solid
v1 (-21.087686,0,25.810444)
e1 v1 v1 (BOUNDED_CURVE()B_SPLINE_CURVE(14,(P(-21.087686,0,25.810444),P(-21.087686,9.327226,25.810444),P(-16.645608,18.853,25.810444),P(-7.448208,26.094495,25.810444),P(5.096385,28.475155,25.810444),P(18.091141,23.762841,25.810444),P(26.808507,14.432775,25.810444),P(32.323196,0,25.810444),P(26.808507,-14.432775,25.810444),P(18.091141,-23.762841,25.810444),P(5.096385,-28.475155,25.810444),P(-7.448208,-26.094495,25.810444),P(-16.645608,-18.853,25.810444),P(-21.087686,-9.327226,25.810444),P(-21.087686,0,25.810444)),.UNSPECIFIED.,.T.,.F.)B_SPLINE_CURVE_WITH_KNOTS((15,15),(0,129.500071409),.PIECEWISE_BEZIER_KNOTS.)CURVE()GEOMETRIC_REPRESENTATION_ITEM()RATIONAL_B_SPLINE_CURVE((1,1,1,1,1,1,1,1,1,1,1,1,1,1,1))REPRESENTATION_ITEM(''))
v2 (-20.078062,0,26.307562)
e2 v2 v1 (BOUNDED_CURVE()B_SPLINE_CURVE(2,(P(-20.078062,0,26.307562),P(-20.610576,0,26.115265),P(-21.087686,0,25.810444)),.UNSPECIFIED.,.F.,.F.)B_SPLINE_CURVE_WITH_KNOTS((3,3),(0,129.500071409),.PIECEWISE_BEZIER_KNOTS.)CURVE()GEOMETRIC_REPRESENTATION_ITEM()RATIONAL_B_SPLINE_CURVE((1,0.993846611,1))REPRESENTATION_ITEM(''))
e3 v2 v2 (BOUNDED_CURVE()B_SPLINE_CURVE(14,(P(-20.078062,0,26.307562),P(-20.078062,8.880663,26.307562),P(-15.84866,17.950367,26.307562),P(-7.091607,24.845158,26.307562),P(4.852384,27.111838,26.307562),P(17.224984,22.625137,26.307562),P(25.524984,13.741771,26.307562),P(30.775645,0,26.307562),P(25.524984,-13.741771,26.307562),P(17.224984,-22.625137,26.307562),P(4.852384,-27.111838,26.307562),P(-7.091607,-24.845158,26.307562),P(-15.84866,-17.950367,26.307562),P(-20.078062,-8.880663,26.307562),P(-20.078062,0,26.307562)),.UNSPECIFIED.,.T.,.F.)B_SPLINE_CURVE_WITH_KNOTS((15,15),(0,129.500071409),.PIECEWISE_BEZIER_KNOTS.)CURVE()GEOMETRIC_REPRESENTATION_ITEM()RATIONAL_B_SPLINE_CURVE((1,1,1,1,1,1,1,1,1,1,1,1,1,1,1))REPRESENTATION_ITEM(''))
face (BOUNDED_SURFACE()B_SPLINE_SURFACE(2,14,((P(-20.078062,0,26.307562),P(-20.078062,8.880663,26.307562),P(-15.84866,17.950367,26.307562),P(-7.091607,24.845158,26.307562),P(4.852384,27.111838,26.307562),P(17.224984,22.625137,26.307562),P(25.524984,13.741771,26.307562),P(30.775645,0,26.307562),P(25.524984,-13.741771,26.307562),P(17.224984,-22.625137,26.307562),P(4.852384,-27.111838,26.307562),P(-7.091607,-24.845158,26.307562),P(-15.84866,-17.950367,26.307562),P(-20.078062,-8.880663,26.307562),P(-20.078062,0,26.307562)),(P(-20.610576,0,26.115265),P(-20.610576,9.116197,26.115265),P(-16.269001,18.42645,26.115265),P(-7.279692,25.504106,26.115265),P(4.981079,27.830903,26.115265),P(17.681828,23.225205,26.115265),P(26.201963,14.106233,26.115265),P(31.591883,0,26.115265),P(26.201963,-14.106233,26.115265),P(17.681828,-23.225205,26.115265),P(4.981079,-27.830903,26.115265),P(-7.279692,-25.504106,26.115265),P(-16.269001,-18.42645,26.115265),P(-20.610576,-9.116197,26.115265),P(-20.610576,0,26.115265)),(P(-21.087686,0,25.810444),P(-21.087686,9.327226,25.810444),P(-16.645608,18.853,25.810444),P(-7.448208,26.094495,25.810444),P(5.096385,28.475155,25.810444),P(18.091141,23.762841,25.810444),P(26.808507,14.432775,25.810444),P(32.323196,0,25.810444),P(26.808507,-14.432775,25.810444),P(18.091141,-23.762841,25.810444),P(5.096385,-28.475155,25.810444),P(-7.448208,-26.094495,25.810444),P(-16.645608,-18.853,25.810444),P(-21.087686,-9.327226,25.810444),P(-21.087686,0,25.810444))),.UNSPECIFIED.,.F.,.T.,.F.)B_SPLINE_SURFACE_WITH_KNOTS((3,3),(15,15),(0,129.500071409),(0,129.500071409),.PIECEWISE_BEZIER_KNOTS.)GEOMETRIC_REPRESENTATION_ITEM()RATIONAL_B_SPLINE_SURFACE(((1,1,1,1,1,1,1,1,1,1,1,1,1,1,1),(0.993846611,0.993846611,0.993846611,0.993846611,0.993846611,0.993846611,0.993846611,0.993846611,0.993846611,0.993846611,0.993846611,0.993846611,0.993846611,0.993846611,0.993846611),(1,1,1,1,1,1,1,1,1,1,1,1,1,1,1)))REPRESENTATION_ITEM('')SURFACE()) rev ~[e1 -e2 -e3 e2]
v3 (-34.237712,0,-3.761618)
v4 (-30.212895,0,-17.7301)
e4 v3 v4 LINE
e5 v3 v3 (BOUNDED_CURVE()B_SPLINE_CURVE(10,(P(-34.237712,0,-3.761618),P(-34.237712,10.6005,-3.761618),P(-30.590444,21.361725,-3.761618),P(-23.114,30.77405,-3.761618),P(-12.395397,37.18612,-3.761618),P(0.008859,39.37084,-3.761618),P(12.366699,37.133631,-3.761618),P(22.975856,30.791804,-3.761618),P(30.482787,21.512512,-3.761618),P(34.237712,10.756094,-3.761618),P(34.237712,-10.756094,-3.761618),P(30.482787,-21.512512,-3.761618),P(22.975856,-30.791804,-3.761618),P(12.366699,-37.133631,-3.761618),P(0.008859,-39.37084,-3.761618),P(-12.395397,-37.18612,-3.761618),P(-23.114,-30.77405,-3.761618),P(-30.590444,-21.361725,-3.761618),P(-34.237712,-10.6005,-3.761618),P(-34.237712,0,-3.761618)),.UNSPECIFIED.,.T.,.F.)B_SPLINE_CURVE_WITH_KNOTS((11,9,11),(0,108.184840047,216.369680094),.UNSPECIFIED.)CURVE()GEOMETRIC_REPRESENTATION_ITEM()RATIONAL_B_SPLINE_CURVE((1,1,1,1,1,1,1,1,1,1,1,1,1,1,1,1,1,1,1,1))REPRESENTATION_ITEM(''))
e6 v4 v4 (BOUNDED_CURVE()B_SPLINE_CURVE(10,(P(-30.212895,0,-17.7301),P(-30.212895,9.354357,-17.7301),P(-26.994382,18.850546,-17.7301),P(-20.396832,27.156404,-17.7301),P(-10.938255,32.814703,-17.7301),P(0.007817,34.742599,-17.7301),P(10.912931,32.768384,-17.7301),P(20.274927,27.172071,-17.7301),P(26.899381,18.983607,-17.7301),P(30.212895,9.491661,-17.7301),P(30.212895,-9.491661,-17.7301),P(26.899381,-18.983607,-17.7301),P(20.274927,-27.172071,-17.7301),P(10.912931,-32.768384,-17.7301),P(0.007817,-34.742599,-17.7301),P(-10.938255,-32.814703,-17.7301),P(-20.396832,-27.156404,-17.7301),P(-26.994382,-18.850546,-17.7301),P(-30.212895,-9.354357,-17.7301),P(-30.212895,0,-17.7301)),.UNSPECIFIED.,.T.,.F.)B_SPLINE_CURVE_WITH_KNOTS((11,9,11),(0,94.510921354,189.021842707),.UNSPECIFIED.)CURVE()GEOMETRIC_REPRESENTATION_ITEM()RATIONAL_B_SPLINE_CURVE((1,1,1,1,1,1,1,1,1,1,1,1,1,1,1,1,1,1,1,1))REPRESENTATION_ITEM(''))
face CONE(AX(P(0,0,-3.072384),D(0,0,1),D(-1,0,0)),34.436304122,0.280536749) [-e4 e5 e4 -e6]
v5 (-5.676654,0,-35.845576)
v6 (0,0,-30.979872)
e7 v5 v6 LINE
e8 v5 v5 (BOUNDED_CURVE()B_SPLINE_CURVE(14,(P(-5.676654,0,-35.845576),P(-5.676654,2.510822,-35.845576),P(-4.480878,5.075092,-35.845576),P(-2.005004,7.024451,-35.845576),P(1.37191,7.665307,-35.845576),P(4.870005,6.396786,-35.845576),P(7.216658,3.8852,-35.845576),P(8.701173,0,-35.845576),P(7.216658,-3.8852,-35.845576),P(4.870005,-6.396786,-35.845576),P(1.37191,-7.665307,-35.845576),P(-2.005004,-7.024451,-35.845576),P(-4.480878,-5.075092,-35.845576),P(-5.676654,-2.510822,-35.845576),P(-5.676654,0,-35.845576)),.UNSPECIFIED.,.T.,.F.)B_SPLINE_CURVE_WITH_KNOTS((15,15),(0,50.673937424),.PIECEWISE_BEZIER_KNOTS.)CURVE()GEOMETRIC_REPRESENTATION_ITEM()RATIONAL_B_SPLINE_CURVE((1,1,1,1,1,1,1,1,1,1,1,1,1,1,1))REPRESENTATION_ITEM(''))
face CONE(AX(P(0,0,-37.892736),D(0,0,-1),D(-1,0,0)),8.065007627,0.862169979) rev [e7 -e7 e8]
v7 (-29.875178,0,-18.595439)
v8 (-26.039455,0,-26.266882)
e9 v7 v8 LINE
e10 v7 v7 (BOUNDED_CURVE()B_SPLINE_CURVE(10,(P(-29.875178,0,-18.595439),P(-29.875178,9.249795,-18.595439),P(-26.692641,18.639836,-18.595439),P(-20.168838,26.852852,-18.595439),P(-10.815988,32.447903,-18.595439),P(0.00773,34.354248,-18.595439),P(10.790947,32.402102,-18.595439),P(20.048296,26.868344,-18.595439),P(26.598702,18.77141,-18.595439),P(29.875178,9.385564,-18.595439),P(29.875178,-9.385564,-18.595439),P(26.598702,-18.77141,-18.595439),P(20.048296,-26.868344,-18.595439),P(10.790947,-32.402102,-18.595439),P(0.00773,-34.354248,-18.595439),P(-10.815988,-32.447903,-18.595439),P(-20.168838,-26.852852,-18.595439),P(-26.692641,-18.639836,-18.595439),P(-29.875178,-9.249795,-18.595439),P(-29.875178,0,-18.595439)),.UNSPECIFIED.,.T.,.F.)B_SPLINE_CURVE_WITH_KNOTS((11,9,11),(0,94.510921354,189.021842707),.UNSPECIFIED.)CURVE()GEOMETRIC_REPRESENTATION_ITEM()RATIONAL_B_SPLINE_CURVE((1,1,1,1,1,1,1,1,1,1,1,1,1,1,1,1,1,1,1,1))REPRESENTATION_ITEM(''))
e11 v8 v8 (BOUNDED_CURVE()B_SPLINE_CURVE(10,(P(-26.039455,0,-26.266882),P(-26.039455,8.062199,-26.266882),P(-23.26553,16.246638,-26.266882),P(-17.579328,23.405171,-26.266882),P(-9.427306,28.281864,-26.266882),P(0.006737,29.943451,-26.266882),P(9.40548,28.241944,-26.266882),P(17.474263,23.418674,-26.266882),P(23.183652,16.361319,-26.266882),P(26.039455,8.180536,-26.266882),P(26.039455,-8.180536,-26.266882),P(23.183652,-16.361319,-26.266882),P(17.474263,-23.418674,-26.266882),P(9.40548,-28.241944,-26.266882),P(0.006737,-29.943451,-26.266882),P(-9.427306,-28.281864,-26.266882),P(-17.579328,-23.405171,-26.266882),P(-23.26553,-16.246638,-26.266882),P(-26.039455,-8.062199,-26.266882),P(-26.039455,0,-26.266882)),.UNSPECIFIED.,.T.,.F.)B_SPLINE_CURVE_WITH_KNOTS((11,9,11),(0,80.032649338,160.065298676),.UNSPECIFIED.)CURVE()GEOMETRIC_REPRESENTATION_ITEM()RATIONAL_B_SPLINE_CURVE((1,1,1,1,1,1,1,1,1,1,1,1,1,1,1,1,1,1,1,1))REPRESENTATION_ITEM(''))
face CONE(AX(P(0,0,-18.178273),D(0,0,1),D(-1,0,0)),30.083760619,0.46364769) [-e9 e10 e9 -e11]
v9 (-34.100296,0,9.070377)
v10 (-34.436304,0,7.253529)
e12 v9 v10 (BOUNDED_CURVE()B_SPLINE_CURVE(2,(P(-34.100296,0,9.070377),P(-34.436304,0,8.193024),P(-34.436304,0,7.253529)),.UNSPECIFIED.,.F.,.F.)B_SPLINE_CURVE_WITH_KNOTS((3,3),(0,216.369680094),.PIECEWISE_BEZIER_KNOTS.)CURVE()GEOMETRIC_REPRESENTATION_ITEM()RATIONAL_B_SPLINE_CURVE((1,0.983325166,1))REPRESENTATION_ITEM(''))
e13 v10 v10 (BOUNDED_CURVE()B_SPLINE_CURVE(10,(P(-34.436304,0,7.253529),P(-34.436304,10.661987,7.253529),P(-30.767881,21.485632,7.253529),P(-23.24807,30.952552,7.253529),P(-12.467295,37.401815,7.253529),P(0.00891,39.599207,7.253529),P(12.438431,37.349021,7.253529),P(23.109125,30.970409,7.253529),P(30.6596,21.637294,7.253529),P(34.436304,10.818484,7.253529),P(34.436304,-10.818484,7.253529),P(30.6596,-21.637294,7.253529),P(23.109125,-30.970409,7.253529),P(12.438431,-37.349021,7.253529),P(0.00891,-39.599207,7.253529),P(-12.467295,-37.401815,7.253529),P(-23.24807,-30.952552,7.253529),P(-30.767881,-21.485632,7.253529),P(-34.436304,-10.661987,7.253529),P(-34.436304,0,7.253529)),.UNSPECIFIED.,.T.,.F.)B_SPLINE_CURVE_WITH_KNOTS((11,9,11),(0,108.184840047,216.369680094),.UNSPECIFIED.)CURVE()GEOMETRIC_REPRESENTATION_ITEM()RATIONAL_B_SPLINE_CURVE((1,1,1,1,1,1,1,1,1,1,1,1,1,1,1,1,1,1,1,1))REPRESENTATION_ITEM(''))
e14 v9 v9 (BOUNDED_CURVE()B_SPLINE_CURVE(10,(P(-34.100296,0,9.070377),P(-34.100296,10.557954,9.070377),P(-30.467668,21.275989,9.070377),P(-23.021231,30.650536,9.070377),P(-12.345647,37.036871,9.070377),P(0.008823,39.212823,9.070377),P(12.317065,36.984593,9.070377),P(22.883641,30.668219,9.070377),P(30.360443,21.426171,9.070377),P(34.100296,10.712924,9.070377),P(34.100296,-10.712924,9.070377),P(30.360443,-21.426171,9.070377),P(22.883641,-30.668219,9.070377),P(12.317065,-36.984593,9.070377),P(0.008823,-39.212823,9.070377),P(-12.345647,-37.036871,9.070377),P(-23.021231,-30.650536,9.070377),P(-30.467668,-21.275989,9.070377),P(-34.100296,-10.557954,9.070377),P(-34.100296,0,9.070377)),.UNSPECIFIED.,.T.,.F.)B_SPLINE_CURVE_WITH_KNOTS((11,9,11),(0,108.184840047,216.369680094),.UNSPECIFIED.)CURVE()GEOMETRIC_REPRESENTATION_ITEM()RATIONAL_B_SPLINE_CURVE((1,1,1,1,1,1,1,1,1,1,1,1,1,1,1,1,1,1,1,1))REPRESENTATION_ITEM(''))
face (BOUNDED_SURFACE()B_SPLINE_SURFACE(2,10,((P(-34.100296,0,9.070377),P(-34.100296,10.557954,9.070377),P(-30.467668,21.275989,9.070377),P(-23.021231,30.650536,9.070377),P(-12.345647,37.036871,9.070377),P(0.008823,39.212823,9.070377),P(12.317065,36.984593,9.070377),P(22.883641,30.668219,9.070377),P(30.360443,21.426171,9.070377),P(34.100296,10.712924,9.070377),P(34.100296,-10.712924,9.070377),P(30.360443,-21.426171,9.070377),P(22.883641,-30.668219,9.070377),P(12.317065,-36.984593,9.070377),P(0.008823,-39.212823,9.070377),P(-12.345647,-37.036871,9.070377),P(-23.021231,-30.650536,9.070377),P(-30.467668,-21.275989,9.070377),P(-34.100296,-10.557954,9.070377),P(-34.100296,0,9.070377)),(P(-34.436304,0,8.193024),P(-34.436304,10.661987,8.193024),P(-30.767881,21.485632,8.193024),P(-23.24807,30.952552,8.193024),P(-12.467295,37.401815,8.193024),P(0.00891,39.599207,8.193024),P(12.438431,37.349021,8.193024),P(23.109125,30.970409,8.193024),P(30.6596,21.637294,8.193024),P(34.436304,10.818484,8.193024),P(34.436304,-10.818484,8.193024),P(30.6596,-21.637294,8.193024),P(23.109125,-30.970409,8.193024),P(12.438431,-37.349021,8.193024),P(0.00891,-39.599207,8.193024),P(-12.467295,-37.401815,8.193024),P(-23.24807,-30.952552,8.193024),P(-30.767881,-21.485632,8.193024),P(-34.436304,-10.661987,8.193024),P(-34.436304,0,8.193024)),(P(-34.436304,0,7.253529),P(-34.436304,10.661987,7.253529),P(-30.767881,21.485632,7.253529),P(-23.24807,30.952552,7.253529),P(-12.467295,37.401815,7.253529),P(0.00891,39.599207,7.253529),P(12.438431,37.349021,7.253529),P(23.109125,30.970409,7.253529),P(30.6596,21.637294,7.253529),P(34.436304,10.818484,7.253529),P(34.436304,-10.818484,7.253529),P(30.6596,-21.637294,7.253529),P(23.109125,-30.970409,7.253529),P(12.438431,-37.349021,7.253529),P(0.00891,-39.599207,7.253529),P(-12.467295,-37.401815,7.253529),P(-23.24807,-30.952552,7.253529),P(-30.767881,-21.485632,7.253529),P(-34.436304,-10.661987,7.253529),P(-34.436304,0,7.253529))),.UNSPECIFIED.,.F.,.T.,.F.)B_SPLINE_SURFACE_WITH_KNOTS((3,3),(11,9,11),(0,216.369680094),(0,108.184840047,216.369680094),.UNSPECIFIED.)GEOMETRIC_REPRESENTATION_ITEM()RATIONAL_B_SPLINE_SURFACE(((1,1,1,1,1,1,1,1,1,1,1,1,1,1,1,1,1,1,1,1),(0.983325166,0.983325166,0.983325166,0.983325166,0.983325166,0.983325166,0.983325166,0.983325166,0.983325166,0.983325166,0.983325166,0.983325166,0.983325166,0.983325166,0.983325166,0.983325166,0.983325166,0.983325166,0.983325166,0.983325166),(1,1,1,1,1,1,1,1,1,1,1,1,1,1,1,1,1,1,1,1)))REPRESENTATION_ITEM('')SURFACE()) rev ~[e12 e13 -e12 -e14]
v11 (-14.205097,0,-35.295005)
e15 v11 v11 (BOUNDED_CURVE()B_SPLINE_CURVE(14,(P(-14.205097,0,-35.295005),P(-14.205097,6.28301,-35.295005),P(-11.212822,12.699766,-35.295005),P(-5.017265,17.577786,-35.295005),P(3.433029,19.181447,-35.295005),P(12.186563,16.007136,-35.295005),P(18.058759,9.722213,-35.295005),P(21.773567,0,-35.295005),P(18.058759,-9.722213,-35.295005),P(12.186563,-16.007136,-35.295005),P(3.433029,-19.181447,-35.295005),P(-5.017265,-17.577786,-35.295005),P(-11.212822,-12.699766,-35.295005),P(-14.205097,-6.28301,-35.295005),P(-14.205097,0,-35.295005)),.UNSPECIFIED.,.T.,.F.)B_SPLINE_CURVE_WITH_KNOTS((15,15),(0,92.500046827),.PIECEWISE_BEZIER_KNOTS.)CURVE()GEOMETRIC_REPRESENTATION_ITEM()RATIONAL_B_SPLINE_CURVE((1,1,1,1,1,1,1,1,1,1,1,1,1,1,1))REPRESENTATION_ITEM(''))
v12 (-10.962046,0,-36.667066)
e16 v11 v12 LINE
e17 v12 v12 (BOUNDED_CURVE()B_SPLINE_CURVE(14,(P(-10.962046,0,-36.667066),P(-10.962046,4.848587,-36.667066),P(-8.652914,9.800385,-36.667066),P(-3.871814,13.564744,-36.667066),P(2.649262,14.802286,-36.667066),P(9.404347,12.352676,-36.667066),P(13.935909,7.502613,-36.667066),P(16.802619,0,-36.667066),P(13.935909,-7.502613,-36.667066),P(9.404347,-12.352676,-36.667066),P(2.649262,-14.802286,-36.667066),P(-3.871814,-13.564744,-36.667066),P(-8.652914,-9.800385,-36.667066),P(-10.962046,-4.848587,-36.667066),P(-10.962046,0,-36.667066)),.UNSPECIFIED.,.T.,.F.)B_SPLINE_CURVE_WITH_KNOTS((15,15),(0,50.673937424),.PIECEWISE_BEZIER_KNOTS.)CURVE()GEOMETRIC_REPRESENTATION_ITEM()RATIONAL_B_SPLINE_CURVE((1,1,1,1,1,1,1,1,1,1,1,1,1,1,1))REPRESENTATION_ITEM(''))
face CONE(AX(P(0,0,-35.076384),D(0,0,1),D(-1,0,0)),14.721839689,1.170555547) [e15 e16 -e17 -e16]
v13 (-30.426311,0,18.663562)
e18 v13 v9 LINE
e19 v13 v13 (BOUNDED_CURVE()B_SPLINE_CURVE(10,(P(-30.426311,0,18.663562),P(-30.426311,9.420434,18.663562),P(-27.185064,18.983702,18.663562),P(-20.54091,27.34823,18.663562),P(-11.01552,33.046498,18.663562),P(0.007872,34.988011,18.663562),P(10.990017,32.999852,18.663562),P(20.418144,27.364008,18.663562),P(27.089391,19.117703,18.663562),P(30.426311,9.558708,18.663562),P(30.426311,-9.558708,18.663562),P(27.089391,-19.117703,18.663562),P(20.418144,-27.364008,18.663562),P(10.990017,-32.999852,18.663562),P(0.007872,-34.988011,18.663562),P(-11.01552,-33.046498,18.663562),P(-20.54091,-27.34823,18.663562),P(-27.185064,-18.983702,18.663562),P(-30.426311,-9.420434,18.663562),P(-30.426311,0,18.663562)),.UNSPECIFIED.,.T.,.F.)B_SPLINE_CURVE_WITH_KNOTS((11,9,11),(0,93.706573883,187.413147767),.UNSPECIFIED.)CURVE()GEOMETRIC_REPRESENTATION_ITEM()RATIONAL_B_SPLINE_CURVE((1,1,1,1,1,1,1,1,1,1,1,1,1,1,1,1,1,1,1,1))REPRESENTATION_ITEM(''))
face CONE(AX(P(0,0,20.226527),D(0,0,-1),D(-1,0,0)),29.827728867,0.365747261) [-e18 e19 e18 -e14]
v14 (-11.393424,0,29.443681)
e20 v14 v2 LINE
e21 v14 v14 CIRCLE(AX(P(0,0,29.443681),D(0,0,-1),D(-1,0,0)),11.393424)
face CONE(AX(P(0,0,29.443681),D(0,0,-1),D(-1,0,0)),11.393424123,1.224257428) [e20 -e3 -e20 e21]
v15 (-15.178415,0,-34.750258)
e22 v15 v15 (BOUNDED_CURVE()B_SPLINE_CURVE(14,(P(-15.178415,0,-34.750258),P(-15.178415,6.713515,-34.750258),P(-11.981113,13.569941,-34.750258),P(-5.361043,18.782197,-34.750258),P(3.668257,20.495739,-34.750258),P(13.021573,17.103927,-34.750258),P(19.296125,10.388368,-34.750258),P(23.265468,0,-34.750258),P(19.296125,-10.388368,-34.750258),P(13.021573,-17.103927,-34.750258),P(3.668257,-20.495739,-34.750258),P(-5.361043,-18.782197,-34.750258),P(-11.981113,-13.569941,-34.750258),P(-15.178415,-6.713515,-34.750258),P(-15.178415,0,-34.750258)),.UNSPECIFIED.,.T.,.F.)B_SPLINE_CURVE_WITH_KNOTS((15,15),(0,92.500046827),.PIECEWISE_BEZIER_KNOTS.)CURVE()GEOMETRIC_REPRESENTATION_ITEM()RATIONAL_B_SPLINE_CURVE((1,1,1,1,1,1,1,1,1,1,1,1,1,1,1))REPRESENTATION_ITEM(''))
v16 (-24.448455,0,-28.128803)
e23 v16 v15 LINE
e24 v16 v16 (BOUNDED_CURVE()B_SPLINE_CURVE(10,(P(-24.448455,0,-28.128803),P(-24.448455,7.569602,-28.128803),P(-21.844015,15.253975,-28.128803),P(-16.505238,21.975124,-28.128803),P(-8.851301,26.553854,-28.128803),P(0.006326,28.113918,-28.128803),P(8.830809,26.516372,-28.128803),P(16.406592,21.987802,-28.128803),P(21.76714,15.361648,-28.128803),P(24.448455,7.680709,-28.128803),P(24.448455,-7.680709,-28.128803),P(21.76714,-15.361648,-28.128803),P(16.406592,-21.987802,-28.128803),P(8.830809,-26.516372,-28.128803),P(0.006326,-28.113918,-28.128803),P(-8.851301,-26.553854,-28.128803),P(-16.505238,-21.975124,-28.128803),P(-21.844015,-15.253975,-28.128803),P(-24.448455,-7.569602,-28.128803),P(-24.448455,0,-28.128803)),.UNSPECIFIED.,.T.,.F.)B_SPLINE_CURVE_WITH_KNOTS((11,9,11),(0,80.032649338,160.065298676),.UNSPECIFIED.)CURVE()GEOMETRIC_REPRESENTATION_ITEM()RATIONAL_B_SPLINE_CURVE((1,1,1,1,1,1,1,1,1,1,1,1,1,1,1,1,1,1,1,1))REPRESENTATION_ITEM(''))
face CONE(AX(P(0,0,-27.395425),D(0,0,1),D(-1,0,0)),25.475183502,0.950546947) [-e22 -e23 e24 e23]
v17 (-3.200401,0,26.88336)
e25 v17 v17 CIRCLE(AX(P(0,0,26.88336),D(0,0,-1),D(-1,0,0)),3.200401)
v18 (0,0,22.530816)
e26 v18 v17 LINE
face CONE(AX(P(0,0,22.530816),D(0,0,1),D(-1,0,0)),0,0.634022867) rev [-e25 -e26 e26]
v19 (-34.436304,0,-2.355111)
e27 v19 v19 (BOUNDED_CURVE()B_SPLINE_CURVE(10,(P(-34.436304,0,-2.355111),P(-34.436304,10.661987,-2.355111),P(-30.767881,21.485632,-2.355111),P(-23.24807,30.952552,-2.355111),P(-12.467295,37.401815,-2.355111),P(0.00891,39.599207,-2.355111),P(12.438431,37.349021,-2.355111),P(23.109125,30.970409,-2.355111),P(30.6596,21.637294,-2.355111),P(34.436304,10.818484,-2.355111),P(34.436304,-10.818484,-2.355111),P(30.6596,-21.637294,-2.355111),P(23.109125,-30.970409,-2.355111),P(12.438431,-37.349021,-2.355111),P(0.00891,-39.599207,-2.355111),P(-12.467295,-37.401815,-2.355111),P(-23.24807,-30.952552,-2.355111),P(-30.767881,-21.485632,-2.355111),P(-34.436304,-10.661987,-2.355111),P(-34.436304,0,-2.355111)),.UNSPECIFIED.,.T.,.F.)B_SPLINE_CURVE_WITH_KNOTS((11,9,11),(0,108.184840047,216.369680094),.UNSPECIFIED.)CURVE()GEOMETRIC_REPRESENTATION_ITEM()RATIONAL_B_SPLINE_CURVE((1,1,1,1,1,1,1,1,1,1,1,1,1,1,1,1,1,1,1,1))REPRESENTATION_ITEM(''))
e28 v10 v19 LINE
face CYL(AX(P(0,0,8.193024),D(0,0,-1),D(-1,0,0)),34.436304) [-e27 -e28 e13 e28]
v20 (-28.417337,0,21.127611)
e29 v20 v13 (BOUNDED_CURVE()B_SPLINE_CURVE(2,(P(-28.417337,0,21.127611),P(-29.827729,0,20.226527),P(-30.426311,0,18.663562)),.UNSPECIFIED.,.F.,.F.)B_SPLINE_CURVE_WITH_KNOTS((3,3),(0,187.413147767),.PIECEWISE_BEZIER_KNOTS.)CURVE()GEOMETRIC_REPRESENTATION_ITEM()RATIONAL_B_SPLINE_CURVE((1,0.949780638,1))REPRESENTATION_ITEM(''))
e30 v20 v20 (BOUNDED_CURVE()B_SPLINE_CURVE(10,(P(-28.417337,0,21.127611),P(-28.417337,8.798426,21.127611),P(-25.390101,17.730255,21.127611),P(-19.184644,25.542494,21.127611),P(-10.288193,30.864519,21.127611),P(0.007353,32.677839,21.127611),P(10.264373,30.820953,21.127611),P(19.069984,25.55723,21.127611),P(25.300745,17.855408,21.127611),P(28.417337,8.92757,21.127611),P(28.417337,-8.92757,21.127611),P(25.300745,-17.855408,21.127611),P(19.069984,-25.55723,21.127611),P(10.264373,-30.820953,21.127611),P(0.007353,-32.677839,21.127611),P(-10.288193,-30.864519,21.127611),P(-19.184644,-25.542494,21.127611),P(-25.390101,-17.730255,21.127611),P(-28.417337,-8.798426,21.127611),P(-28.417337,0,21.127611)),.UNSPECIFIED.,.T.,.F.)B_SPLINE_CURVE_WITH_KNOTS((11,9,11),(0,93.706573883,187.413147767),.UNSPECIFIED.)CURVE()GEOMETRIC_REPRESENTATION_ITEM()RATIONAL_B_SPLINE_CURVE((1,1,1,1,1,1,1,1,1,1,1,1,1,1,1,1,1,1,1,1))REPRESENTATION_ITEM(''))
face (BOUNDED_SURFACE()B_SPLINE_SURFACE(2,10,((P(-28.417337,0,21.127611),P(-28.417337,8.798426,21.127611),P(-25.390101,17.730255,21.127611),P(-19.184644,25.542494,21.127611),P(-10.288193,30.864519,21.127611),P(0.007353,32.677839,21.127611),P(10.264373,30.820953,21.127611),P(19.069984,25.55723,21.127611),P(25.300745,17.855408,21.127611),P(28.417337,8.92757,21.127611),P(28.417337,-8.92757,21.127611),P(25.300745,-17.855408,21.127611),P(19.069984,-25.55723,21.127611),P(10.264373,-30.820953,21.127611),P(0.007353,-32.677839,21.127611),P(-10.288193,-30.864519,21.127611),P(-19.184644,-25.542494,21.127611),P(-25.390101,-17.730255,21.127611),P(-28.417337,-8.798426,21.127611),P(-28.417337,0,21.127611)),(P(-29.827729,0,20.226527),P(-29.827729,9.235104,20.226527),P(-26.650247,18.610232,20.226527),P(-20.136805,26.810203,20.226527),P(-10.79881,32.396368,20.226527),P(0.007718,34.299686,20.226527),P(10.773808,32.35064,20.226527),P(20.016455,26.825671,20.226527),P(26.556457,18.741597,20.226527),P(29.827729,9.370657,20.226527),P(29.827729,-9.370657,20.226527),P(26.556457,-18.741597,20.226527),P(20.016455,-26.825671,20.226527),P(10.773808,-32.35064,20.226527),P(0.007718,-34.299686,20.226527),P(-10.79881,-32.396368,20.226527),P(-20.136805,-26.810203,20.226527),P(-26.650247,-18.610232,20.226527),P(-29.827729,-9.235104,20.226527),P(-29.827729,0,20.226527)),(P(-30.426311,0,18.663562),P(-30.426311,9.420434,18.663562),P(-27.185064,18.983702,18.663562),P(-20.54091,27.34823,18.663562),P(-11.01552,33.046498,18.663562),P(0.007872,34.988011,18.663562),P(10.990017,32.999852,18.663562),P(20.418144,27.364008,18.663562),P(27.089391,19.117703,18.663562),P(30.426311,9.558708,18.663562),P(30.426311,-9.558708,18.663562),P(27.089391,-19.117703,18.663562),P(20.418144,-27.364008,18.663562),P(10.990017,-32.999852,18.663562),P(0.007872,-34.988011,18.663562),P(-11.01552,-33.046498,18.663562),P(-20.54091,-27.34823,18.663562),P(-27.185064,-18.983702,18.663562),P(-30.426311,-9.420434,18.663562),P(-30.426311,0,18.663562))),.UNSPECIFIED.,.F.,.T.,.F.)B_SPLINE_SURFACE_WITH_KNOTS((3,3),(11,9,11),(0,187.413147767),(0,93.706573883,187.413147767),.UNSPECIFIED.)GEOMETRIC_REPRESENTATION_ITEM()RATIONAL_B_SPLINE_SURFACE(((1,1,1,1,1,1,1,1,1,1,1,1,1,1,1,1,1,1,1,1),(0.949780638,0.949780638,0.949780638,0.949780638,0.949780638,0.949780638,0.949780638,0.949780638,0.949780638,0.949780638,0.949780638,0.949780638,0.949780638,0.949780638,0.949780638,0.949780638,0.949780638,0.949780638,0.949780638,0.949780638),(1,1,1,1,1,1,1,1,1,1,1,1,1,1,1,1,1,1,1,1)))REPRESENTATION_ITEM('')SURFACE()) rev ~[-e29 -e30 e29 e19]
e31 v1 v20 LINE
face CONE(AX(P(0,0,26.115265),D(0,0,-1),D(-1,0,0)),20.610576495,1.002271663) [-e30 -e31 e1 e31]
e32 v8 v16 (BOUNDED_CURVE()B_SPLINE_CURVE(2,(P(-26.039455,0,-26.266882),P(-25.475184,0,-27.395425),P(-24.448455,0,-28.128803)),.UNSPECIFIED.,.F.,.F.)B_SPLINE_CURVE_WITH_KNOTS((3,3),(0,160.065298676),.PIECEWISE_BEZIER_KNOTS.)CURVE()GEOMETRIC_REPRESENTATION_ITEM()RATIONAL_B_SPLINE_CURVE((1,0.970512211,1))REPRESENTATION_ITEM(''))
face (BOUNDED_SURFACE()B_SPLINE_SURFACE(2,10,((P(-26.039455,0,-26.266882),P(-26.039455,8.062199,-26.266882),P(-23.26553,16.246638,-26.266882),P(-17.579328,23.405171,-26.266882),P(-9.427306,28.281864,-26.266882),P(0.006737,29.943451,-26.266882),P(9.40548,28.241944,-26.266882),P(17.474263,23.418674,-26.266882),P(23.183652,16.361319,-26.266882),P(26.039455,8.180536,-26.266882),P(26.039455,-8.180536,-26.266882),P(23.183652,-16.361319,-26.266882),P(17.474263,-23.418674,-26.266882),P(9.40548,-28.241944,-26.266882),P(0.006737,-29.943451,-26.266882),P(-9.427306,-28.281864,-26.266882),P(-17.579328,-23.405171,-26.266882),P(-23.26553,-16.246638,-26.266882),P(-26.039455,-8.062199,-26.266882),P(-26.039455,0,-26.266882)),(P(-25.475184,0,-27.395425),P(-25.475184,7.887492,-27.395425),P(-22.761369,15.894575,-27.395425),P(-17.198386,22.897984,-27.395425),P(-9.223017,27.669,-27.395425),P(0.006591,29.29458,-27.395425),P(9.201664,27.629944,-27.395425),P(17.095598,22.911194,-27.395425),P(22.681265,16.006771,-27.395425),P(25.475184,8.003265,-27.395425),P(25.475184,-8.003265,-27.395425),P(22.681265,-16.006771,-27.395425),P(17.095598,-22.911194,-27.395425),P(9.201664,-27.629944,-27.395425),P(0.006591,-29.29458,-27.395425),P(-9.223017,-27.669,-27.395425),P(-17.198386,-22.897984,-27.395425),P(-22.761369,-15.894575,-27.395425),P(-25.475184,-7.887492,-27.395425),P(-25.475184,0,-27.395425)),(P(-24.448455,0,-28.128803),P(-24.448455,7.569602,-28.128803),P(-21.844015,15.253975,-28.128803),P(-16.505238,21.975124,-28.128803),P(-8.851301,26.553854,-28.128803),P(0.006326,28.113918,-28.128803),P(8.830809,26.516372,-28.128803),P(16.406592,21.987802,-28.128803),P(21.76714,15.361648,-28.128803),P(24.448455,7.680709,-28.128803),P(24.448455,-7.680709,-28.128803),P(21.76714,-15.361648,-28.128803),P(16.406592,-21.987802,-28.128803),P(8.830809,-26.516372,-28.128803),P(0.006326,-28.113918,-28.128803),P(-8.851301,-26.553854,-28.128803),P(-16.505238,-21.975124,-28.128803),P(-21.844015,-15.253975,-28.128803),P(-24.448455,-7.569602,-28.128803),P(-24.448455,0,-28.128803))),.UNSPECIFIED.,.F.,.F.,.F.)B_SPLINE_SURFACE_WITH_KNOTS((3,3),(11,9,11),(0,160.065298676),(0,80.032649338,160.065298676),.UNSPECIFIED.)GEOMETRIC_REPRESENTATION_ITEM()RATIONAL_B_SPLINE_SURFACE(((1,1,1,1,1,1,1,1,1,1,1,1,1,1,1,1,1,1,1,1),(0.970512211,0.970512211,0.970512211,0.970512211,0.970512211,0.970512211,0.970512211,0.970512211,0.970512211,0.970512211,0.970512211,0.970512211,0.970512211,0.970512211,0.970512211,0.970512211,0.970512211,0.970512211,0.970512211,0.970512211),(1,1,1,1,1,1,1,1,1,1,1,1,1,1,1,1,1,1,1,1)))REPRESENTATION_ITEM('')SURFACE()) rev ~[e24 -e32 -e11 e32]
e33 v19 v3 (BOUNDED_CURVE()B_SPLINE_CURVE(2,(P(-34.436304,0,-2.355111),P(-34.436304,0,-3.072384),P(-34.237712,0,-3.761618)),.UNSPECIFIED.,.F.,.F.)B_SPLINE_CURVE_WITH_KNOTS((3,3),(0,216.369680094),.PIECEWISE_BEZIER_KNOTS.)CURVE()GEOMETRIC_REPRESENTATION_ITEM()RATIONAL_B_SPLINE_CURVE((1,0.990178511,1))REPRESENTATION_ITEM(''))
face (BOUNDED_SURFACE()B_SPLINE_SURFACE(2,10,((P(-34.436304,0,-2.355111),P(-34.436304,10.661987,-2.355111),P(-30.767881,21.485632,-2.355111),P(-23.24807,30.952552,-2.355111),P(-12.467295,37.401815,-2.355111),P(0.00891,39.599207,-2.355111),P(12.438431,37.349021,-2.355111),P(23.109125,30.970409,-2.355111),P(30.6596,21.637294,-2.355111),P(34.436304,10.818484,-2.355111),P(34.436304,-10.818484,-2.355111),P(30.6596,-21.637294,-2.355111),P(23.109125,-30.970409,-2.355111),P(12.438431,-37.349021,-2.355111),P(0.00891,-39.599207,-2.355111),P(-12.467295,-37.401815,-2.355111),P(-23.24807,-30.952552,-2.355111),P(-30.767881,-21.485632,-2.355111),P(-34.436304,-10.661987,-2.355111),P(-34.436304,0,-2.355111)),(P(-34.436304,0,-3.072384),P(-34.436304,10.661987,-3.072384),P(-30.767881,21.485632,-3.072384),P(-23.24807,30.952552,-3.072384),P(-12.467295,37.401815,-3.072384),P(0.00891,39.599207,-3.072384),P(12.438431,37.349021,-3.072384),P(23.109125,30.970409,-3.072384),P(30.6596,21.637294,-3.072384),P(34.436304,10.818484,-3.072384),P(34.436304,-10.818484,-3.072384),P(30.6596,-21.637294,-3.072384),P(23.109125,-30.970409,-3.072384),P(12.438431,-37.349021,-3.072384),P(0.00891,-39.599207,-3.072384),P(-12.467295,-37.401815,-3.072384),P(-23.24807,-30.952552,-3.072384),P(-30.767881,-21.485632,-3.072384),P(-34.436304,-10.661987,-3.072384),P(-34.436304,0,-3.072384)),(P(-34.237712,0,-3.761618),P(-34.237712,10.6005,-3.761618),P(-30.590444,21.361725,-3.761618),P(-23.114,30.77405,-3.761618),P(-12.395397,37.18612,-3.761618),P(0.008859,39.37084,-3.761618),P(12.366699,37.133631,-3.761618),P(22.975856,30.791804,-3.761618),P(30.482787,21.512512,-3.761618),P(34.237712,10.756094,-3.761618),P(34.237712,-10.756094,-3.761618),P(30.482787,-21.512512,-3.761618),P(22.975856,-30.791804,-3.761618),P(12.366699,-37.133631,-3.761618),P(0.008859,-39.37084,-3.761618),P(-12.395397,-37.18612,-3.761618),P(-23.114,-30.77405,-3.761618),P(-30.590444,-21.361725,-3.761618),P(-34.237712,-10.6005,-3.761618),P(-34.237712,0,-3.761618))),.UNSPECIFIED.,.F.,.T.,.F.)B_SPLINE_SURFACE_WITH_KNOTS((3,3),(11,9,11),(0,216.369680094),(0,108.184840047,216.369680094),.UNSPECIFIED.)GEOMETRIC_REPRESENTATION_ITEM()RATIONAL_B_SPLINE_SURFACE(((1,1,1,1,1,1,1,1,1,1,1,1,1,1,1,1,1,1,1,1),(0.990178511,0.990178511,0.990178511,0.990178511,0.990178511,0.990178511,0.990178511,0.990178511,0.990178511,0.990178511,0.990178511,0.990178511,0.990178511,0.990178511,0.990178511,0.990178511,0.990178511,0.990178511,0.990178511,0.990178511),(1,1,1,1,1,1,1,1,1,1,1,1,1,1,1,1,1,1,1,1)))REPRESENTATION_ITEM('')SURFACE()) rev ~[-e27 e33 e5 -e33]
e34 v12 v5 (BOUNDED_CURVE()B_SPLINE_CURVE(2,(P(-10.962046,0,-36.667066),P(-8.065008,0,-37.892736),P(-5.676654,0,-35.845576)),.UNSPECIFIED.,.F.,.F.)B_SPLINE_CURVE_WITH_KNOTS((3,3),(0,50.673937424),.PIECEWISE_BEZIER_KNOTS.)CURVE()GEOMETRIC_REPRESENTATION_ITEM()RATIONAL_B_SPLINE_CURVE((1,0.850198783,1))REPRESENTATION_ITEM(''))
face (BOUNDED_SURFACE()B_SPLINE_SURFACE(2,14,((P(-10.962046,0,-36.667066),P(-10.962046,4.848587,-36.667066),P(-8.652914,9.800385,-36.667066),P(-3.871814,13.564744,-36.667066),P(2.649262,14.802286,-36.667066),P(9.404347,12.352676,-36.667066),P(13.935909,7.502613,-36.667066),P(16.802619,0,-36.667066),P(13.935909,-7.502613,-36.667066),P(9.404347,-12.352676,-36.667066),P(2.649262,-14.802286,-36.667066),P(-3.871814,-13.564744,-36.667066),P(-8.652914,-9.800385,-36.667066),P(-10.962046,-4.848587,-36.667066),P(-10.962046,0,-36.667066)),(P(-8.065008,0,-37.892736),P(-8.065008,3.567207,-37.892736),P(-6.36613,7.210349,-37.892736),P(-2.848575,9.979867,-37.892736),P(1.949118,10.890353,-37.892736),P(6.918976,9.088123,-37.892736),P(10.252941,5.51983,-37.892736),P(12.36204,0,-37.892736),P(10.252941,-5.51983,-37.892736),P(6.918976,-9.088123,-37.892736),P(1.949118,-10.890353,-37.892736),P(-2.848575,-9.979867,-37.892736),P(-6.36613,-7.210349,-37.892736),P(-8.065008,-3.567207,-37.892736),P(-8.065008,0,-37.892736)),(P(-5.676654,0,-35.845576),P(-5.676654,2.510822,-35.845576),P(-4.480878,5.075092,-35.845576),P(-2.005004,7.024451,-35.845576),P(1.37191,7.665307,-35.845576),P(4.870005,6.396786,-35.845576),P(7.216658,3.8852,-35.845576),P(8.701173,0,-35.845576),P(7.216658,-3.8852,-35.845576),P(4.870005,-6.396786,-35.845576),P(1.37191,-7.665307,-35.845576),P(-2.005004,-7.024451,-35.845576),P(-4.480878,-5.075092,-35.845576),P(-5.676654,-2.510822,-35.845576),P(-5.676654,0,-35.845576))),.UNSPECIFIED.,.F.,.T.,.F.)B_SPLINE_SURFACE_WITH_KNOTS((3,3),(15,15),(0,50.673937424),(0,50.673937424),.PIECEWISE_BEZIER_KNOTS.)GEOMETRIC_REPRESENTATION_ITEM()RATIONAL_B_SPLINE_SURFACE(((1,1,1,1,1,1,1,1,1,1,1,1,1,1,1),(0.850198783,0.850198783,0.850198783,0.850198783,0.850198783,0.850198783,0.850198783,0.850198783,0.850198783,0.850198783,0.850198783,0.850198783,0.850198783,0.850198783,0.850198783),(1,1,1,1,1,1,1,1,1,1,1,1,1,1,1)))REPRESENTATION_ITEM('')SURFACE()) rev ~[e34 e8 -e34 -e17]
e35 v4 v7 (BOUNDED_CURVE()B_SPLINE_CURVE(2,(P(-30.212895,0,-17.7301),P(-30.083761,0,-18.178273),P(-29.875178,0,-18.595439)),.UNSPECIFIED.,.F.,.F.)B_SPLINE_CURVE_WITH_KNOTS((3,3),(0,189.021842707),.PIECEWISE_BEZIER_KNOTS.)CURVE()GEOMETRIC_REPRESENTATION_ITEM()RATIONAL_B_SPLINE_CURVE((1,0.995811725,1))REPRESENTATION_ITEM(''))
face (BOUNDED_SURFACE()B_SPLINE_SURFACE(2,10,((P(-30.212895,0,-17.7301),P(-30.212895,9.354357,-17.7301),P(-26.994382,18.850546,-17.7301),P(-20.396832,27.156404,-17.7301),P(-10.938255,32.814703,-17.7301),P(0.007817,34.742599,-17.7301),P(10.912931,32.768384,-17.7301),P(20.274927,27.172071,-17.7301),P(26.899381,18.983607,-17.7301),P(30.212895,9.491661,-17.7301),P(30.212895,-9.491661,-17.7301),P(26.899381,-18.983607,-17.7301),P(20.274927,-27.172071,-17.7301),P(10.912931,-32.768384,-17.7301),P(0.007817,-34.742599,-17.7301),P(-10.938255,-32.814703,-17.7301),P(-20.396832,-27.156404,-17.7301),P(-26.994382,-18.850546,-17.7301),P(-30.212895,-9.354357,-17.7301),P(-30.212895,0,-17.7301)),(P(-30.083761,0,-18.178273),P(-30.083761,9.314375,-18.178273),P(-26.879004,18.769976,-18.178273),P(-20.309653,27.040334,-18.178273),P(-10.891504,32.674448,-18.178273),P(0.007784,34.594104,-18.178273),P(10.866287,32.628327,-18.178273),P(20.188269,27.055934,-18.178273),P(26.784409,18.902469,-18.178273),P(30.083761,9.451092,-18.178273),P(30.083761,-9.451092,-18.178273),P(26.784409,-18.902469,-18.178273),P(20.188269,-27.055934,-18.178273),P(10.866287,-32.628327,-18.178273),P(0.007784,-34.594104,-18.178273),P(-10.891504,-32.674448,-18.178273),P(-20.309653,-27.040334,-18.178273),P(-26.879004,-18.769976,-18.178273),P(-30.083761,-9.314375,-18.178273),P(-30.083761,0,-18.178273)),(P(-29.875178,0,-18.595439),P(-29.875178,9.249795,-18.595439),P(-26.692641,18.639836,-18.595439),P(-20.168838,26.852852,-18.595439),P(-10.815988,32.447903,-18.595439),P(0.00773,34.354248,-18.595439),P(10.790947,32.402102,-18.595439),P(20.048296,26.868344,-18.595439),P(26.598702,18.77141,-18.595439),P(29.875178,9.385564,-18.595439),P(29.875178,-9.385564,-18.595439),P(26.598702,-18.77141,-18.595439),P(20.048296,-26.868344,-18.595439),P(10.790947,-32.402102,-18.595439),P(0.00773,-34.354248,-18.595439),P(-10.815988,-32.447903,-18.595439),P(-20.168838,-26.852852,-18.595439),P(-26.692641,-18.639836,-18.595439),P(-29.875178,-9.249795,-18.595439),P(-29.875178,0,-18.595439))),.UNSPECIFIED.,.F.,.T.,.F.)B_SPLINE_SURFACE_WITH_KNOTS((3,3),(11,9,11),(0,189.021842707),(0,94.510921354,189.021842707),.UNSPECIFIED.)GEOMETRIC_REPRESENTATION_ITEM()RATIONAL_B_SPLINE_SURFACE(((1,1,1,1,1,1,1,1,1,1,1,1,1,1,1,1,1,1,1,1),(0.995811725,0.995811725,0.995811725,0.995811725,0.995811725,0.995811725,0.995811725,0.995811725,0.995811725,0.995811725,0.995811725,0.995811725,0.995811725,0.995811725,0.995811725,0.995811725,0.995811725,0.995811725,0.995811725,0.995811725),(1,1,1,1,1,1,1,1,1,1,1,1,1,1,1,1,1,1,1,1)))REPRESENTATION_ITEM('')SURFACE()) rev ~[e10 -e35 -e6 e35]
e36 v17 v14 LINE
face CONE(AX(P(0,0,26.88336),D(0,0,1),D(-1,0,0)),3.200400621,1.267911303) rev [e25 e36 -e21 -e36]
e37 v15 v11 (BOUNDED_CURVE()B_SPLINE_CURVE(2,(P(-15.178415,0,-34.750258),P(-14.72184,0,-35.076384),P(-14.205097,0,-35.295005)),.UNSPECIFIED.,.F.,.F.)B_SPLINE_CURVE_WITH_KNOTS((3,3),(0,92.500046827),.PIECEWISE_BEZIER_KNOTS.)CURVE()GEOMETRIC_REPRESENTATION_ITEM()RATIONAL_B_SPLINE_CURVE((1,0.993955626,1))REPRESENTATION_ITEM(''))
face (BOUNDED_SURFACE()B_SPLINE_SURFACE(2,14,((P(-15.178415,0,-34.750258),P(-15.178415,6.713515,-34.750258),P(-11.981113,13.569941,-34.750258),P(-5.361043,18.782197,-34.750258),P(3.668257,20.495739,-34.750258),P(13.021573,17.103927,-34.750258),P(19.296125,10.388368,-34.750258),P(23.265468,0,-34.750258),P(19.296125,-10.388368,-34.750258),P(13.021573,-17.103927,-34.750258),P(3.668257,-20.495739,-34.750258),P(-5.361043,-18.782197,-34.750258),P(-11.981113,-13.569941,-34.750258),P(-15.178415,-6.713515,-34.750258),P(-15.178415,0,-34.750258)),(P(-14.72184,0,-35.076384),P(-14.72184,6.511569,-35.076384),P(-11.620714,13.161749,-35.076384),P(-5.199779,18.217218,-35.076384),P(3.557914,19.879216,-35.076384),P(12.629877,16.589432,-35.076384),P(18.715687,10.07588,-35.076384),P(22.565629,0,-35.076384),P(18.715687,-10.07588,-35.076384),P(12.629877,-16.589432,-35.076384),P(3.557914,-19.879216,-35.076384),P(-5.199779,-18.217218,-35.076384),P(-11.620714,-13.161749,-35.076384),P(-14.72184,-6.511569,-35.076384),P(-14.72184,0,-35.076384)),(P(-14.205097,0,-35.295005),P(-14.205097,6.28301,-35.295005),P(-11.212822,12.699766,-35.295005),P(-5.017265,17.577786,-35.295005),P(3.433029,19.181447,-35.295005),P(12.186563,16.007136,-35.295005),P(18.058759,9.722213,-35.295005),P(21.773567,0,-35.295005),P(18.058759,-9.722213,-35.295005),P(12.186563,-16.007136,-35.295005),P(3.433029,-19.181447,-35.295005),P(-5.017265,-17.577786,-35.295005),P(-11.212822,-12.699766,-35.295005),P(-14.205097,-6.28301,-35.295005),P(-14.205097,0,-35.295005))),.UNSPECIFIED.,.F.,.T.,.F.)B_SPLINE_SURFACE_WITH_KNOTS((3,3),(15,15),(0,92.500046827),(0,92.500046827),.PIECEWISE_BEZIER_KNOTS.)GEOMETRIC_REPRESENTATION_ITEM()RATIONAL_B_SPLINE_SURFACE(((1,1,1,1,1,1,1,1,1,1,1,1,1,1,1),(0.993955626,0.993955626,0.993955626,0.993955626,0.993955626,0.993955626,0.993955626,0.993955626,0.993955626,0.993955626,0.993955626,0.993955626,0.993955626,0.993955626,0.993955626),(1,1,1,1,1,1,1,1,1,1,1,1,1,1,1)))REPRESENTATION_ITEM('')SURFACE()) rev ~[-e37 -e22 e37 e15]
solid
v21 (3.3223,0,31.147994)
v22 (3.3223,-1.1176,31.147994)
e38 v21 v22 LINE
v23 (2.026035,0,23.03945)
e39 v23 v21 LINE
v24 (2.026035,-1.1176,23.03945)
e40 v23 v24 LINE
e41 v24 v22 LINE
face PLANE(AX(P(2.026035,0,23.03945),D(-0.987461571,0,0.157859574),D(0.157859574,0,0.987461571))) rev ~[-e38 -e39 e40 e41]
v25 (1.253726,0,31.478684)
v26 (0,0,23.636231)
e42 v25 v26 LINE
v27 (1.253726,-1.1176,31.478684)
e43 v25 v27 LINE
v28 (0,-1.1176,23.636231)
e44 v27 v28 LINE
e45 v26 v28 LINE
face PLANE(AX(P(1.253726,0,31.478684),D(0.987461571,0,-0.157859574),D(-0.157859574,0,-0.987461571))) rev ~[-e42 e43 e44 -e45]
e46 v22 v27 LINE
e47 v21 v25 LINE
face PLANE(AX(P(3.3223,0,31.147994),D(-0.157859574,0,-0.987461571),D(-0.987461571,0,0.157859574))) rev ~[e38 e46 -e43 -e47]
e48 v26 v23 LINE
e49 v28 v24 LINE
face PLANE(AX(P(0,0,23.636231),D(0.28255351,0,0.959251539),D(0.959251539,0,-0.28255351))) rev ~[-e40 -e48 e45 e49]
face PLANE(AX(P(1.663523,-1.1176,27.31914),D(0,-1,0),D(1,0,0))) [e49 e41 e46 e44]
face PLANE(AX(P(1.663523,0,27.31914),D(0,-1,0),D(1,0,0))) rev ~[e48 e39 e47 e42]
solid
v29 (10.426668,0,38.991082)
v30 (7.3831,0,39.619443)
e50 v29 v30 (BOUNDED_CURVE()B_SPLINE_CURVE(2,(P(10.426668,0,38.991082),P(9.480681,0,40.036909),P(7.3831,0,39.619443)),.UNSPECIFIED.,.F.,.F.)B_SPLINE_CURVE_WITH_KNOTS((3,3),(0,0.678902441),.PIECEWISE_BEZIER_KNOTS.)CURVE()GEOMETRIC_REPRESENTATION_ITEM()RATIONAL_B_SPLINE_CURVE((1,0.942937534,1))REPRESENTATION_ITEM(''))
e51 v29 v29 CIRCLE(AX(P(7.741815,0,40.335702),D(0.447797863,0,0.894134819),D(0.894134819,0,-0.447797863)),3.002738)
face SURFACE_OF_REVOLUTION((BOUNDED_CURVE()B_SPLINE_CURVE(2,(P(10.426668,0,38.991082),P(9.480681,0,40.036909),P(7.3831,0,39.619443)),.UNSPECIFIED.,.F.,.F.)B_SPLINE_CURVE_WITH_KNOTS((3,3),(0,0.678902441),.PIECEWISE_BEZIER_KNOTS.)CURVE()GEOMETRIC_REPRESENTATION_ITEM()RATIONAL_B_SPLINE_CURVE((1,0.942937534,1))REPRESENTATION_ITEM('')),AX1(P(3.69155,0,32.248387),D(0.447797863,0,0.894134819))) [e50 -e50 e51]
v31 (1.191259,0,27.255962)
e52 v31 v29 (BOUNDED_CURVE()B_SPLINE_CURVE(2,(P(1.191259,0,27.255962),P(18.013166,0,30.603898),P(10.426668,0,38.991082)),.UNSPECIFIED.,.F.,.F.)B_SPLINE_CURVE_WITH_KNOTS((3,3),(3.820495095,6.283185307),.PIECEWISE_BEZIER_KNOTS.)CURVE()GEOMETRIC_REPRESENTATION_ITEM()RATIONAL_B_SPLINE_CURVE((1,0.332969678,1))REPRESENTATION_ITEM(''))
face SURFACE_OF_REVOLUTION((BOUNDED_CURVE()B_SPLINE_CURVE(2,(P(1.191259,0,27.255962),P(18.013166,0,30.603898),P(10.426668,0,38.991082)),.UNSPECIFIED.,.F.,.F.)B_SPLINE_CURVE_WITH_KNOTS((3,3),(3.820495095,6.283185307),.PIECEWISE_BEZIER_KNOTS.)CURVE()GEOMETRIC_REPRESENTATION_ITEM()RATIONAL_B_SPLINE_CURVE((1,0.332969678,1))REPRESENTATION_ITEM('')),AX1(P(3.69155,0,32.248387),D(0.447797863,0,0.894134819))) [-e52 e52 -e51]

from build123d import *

# Parameters (mm, degrees)
F2_R      = 4.8247887854
F6_R      = 5.08
F10_DEPTH = 1.1176


with BuildPart() as f1:
    # F0 (on Front) → F1 (revolve)
    with BuildSketch(Plane.XZ):
        Polygon((0, -30.7238399982), (0, 22.2747847438), (-8.32104031, 30.4678082466), (-21.6347035021, 20.2265270054), (-31.8759828806, 10.7533438131), (-31.8759828806, -6.4007998444), (-20.8666082472, -26.8833599985), (-6.2727844343, -35.5884470046), align=None)
    revolve(axis=Axis((0, 0, -4.2245276272), (0, 0, -1)))

    # F2
    f2_edges = [f1.edges().sort_by_distance(p)[0] for p in [
        (31.875983, 0, -6.4008),
        (20.866608, 0, -26.88336),
        (-26.371296, 0, -16.64208),
        (21.634704, 0, 20.226527),
        (31.875983, 0, 10.753344),
        (-26.755343, 0, 15.489935),
        (8.32104, 0, 30.467808),
        (-14.977872, 0, 25.347168),
        (6.272784, 0, -35.588447),
        (-13.569696, 0, -31.235904),
    ]]
    fillet(f2_edges, radius=F2_R)


with BuildPart() as f5:
    # F4 (on Front) → F5 (revolve)
    with BuildSketch(Plane.XZ):
        Polygon((0, -30.9798717499), (0, 22.5308164954), (-3.2004006207, 26.8833599985), (-11.3934241235, 29.4436812401), (-20.6105764955, 26.1152647436), (-29.8277288675, 20.2265270054), (-34.4363041222, 8.1930235028), (-34.4363041222, -3.0723842792), (-30.0837606192, -18.1782729924), (-25.4751835018, -27.3954253644), (-14.7218396887, -35.0763835013), (-8.065007627, -37.8927364945), align=None)
    revolve(axis=Axis((0, 0, -4.2245276272), (0, 0, -1)))

    # F6
    f6_edges = [f5.edges().sort_by_distance(p)[0] for p in [
        (20.610576, 0, 26.115265),
        (29.827729, 0, 20.226527),
        (-25.219153, 0, 23.170896),
        (34.436304, 0, 8.193024),
        (-32.132016, 0, 14.209775),
        (34.436304, 0, -3.072384),
        (-34.436304, 0, 2.56032),
        (30.083761, 0, -18.178273),
        (-32.260032, 0, -10.625329),
        (25.475184, 0, -27.395425),
        (-27.779472, 0, -22.786849),
        (14.72184, 0, -35.076384),
        (-20.098512, 0, -31.235904),
        (8.065008, 0, -37.892736),
        (-11.393424, 0, -36.48456),
    ]]
    fillet(f6_edges, radius=F6_R)


with BuildPart() as f8:
    # F7 (on Front) → F8 (revolve)
    with BuildSketch(Plane.XZ):
        with BuildLine():
            Line((4.2871795595, 33.4377028048), (1.1912591128, 27.2559621202))
            add(Edge.make_bspline(
                [(1.1912591128, 27.2559621202), (18.0131662302, 30.6038983688), (10.4266675189, 38.9910824597)],
                knots=[3.8204950948, 3.8204950948, 3.8204950948, 6.2831853072, 6.2831853072, 6.2831853072], degree=2, weights=[1, 0.3329696776, 1]))
            add(Edge.make_bspline(
                [(10.4266675189, 38.9910824597), (9.4806810758, 40.0369090983), (7.3831000062, 39.6194434894)],
                knots=[0, 0, 0, 0.6789024412, 0.6789024412, 0.6789024412], degree=2, weights=[1, 0.9429375344, 1]))
            Line((7.3831000062, 39.6194434894), (4.2871795595, 33.4377028048))
        make_face()
    revolve(axis=Axis((3.6915500031, 0, 32.2483868889), (0.4477978629, 0, 0.8941348187)))


with BuildPart() as f10:
    # F9 (on Front) → F10 (new body)
    with BuildSketch(Plane.XZ):
        Polygon((1.2537260773, 31.4786843956), (0, 23.6362311989), (2.0260354603, 23.0394498473), (3.3222998869, 31.1479938753), align=None)
    extrude(amount=F10_DEPTH)


solid = Compound([f5.part, f8.part, f10.part])
